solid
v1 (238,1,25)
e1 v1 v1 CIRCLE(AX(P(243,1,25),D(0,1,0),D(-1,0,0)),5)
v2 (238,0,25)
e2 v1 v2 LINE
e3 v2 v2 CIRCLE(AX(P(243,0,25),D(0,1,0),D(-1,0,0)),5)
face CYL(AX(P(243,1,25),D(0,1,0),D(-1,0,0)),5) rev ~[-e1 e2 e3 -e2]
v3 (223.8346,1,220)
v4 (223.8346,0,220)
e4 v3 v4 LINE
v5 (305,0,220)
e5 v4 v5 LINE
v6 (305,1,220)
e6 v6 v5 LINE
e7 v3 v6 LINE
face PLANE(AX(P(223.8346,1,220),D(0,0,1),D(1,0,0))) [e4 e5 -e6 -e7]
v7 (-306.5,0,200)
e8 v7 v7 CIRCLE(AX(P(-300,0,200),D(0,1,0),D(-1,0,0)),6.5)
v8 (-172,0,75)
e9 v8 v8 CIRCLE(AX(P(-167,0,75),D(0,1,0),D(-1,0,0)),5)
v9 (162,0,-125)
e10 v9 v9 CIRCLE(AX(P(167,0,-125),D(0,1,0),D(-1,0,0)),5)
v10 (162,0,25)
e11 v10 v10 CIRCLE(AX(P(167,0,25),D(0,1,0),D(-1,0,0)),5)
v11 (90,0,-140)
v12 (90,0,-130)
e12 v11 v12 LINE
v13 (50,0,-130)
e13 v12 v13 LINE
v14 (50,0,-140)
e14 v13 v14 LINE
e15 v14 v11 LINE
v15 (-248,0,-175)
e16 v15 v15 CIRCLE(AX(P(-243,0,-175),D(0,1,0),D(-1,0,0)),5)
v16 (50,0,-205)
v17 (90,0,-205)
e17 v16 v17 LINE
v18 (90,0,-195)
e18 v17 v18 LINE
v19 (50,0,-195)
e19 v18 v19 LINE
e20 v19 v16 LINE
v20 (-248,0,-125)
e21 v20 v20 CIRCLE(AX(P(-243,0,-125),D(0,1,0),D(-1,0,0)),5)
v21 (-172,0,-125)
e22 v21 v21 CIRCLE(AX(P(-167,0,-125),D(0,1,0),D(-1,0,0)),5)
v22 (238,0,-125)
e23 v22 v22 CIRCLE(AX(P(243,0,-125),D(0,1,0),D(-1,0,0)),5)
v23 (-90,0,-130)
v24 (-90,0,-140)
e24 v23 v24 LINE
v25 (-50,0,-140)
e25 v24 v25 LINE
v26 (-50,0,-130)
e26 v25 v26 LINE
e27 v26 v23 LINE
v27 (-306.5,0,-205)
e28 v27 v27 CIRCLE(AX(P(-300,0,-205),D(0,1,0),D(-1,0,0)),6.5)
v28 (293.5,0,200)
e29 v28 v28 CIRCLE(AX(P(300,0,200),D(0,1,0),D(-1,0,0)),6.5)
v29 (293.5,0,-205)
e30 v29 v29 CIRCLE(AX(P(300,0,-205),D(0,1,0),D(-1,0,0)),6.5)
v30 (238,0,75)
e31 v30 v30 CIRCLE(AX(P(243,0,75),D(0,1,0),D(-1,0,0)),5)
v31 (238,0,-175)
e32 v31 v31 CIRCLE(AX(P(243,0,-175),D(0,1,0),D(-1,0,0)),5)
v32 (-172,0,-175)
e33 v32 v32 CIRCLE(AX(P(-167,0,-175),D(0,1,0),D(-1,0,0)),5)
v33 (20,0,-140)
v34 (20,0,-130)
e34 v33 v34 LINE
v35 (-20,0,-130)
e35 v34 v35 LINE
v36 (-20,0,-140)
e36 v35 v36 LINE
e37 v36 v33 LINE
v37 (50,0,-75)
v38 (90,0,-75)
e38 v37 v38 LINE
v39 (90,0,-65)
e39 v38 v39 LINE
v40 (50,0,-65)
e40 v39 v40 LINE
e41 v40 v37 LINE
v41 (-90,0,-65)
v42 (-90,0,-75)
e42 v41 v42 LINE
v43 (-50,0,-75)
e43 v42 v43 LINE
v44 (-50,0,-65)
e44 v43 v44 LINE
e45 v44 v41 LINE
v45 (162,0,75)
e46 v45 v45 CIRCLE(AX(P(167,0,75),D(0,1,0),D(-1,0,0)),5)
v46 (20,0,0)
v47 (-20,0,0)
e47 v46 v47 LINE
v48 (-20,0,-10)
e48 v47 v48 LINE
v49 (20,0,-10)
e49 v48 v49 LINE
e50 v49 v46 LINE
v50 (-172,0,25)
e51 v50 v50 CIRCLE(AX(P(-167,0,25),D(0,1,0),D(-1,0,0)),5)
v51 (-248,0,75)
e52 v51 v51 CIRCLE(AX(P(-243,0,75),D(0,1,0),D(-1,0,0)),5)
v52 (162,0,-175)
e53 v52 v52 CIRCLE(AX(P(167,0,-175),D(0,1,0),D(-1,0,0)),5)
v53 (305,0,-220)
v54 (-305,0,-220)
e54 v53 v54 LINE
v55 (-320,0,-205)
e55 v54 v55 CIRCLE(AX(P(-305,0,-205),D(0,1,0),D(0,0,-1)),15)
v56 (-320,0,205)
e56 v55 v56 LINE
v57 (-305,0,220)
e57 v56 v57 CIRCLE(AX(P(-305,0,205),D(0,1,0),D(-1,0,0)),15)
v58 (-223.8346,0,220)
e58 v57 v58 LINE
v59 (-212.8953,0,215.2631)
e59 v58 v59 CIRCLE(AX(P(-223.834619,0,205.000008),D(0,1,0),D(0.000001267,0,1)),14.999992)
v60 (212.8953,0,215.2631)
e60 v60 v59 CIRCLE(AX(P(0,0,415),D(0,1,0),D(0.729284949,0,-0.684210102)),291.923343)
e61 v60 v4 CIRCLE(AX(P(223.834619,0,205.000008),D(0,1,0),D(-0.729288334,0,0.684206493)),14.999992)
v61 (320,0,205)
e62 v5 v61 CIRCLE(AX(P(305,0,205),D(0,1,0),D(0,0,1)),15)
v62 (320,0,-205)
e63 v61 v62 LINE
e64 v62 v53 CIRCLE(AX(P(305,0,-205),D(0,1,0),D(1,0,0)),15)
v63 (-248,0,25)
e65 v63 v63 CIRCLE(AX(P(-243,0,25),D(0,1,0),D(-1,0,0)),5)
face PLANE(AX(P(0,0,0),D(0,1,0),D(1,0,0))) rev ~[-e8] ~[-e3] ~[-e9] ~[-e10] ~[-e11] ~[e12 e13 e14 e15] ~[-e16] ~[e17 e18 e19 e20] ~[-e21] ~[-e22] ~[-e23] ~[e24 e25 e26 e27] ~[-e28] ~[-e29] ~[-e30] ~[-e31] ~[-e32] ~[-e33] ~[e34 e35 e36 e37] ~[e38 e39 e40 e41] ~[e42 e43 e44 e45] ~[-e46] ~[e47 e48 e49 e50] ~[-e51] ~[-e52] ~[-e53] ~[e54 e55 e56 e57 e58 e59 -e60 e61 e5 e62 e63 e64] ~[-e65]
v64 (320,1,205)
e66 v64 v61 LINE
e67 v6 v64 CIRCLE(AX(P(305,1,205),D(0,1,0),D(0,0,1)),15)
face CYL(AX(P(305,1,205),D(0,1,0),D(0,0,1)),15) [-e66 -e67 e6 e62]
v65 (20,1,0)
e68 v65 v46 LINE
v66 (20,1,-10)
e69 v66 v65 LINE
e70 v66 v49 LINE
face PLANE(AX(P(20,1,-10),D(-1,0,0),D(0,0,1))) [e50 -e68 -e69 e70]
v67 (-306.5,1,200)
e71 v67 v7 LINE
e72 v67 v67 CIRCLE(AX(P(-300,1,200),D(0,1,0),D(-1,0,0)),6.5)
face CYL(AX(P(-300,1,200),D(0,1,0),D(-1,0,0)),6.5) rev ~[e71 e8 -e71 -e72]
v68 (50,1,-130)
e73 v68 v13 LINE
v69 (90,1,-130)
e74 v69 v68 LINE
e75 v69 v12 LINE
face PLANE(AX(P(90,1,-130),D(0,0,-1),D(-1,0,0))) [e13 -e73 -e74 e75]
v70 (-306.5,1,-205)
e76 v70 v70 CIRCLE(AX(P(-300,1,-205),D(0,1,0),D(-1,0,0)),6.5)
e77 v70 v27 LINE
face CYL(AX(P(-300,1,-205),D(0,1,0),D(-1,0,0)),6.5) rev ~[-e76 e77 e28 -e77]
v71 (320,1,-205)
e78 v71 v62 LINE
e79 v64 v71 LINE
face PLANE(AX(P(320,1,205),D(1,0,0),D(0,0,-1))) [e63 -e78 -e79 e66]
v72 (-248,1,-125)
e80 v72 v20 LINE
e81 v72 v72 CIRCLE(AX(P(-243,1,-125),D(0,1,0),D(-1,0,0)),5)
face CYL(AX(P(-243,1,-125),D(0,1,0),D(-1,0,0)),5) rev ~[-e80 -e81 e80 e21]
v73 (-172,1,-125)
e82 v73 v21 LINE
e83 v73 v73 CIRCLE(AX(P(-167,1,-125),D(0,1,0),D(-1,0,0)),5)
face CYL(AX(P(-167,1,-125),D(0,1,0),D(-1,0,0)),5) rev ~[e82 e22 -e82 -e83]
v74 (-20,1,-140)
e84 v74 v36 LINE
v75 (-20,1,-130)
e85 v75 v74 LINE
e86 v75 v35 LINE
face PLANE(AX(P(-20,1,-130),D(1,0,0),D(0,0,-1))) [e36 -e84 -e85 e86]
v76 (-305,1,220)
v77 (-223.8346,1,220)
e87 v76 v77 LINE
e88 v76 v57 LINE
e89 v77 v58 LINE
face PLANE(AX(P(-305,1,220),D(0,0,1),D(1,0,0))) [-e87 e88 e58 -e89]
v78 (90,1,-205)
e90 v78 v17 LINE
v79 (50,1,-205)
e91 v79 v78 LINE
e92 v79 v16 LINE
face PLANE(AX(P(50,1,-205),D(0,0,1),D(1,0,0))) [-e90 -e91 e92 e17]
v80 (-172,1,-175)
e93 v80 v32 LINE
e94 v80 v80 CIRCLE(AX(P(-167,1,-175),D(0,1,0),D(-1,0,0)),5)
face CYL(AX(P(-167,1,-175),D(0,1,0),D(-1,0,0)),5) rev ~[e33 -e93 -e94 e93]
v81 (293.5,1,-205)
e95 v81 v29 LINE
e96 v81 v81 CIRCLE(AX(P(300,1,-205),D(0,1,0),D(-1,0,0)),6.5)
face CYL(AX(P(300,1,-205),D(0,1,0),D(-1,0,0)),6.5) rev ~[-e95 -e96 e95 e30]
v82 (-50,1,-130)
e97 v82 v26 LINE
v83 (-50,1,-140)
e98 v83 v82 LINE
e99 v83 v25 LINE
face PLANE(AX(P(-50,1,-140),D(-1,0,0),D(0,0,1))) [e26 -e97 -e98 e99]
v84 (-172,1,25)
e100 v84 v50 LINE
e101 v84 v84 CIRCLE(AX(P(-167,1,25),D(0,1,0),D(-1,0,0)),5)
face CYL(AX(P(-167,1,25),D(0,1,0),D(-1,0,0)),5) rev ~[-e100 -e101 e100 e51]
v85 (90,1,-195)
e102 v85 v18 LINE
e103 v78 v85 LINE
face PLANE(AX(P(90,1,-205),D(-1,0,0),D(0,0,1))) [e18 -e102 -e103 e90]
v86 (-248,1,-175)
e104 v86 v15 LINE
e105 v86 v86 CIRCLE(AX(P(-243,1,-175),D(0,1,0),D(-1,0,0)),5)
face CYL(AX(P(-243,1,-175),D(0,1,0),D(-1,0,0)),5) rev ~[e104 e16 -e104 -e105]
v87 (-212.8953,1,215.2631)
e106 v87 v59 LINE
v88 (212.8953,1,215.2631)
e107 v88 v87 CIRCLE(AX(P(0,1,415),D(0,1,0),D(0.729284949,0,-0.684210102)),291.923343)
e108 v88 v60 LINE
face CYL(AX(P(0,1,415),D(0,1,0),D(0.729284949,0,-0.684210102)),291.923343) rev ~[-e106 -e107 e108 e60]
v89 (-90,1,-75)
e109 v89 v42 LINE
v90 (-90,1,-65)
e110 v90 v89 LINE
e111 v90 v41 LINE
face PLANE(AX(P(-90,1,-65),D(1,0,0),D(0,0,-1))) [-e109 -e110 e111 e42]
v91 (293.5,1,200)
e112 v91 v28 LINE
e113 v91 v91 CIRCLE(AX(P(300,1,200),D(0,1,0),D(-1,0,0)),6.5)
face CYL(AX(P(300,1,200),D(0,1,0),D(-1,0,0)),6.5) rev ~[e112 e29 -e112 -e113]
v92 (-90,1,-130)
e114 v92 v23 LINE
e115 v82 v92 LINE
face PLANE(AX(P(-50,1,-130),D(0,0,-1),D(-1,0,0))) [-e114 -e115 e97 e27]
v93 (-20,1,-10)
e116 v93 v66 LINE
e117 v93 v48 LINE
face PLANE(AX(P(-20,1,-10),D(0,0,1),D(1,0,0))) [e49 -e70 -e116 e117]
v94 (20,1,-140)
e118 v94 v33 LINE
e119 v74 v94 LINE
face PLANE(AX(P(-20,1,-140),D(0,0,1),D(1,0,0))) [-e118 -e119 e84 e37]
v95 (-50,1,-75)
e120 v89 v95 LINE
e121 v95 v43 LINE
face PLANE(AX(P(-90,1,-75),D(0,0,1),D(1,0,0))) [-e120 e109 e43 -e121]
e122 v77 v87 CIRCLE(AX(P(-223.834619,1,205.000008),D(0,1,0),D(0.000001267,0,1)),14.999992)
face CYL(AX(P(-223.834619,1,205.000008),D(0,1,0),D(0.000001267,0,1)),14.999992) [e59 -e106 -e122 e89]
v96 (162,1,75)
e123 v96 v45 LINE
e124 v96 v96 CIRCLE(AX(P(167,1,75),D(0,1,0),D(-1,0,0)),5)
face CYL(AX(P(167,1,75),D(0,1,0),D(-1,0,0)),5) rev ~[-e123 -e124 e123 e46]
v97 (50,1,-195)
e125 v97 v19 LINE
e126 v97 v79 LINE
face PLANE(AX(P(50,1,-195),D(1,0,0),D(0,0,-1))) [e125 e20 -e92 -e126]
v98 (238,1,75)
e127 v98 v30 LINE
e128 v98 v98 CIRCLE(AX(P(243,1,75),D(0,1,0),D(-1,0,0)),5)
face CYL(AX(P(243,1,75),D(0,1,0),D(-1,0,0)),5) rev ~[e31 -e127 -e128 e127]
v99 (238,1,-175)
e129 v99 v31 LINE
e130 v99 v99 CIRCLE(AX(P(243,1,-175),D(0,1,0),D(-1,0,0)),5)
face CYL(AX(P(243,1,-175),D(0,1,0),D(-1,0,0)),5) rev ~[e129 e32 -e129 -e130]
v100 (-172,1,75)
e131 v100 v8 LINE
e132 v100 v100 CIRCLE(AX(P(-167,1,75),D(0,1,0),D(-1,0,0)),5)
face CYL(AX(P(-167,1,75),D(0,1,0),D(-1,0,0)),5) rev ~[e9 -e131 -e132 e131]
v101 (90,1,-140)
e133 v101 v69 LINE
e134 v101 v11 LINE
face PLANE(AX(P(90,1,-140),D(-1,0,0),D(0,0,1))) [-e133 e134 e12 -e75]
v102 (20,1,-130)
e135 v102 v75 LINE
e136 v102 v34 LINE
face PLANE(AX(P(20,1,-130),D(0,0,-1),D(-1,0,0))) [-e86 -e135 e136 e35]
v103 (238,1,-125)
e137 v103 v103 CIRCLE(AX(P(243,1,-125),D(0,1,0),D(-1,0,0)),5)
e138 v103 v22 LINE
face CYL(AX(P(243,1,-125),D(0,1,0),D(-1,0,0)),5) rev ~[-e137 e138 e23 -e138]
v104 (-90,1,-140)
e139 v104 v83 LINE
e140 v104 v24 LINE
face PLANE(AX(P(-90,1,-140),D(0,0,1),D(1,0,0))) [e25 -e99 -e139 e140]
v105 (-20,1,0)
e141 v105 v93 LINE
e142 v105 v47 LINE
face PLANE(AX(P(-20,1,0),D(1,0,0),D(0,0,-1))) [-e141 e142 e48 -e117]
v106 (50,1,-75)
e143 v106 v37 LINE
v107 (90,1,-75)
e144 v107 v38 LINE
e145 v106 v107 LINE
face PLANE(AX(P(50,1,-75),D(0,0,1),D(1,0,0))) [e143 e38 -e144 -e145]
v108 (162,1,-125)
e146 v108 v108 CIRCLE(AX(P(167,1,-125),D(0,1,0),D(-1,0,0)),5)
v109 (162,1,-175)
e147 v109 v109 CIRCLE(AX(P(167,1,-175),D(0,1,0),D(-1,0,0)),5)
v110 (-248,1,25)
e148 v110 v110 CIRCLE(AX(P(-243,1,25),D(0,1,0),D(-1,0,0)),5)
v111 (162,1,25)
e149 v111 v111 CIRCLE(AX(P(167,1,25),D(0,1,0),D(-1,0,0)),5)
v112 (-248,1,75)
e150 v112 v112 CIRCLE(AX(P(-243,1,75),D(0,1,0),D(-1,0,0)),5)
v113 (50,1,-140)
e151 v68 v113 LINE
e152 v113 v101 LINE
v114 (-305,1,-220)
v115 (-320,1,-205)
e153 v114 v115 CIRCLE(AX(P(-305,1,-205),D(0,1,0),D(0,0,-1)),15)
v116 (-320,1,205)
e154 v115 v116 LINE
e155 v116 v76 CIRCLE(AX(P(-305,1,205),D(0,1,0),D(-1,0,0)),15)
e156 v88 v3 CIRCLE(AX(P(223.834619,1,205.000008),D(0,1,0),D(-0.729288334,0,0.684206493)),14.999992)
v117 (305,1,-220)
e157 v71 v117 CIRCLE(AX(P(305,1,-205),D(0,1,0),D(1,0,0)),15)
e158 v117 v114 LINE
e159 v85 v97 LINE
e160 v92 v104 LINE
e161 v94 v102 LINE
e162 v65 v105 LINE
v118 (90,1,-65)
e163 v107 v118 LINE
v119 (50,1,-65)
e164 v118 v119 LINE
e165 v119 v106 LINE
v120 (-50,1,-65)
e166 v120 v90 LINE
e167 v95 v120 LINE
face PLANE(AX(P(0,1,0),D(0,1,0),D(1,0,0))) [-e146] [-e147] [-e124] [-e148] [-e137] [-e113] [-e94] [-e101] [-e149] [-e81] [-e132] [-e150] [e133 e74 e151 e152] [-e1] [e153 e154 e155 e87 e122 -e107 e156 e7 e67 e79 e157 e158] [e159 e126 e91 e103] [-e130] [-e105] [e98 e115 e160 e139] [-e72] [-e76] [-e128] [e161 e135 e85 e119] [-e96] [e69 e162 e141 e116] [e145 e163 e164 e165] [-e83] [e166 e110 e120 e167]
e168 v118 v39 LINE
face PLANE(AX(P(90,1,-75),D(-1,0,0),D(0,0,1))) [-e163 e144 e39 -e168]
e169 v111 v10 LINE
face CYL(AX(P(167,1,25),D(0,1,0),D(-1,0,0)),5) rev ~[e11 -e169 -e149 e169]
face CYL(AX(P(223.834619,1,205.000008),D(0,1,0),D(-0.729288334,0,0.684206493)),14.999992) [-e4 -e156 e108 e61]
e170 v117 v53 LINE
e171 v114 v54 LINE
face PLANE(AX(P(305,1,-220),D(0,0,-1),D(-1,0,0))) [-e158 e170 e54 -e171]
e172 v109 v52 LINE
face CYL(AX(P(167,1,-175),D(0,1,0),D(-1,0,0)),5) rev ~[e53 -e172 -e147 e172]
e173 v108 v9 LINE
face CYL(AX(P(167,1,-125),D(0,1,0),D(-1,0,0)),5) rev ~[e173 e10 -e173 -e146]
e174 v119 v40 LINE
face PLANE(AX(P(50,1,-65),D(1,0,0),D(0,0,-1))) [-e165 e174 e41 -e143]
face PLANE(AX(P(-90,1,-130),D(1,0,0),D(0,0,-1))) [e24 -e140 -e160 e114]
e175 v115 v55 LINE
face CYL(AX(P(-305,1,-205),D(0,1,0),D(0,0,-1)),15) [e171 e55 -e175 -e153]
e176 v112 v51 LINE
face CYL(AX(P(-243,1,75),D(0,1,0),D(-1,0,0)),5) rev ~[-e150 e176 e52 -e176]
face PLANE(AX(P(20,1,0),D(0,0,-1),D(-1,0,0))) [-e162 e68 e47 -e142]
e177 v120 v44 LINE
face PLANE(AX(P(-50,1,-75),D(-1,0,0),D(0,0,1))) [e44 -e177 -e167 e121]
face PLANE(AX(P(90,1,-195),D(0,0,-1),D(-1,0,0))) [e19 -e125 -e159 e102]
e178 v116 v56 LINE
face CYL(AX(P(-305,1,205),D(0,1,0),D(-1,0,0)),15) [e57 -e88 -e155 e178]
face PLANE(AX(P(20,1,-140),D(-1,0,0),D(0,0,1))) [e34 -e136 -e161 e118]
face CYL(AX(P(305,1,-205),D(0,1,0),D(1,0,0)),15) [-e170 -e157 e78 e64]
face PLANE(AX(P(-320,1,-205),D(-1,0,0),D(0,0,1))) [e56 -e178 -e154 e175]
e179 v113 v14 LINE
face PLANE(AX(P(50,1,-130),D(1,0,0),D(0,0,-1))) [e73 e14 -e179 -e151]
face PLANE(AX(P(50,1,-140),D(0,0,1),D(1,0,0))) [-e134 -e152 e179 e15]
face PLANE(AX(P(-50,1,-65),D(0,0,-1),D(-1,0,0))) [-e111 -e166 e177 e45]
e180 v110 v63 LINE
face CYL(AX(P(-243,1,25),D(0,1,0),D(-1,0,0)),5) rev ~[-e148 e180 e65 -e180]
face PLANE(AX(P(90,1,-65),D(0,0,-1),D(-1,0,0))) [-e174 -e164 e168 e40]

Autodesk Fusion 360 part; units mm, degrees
sketch "Esquisse1" plane through (0, 0, 0) normal (0, 1, 0) x (1, 0, 0)
  arc A0 (209.2489, -218.6842) -> (223.8346, -225) centre (223.8346, -205) ccw
  line L0 (-305, 225) -> (305, 225)
  line L1 (215, -225) -> (325, -225)
  line L2 (305, -225) -> (223.8346, -225)
  line L3 (-305, -225) -> (-223.8346, -225)
  line L4 (-325, 225) -> (325, -225) construction
  line L5 (325, 205) -> (325, -205)
  line L6 (-325, -205) -> (-325, 205)
  arc A1 (305, -225) -> (325, -205) centre (305, -205) ccw
  line L7 (-367.4671, -125) -> (350, -125) construction
  arc A2 (-305, 225) -> (-325, 205) centre (-305, 205) ccw
  line L8 (325, 225) -> (-325, -225) construction
  arc A3 (209.2489, -218.6842) -> (-209.2489, -218.6842) centre (0, -415) ccw
  arc A4 (-325, -205) -> (-305, -225) centre (-305, -205) ccw
  arc A5 (-223.8346, -225) -> (-209.2489, -218.6842) centre (-223.8346, -205) ccw
  arc A6 (325, 205) -> (305, 225) centre (305, 205) ccw
  point P0 (-215, -225)
  dimension "d12" = 650
  dimension "d13" = 450
  dimension "d14" = 110
  dimension "d15" = 110
  dimension "d16" = 100
  dimension "d20" = 190
  dimension "d21" = 20
extrude "Extrusion1" add sketch "Esquisse1" along normal blind 1
sketch "Esquisse2" plane through (0, 1, 0) normal (0, 1, 0) x (-1, 0, 0)
  arc A0 (-305, 225) -> (-325, 205) centre (-305, 205) ccw
  line L0 (-325, 205) -> (-325, -205)
  arc A1 (-325, -205) -> (-305, -225) centre (-305, -205) ccw
  line L1 (-305, -225) -> (305, -225)
  arc A2 (305, -225) -> (325, -205) centre (305, -205) ccw
  line L2 (325, -205) -> (325, 205)
  arc A3 (325, 205) -> (305, 225) centre (305, 205) ccw
  line L3 (305, 225) -> (223.8346, 225)
  arc A4 (223.8346, 225) -> (209.2489, 218.6842) centre (223.8346, 205) ccw
  arc A5 (-209.2489, 218.6842) -> (209.2489, 218.6842) centre (0, 415) ccw
  arc A6 (-209.2489, 218.6842) -> (-223.8346, 225) centre (-223.8346, 205) ccw
  line L4 (-223.8346, 225) -> (-305, 225)
  line L5 (-90, -65) -> (-50, -65)
  line L6 (-50, -140) -> (-90, -140)
  line L7 (90, -140) -> (50, -140)
  line L8 (-90, -205) -> (-90, -195)
  line L9 (-50, -75) -> (-90, -75)
  line L10 (-50, -130) -> (-50, -140)
  line L11 (20, -10) -> (-20, -10)
  line L12 (-50, -205) -> (-90, -205)
  line L13 (50, -140) -> (50, -130)
  line L14 (-20, -130) -> (20, -130)
  line L15 (-90, -130) -> (-50, -130)
  line L16 (-50, -195) -> (-50, -205)
  line L17 (50, -65) -> (90, -65)
  line L18 (20, -140) -> (-20, -140)
  line L19 (-90, -75) -> (-90, -65)
  line L20 (-20, -140) -> (-20, -130)
  line L21 (-90, -140) -> (-90, -130)
  line L22 (90, -130) -> (90, -140)
  line L23 (-90, -195) -> (-50, -195)
  line L24 (-20, -10) -> (-20, 0)
  line L25 (90, -65) -> (90, -75)
  line L26 (90, -75) -> (50, -75)
  line L27 (20, 0) -> (20, -10)
  line L28 (50, -75) -> (50, -65)
  line L29 (-50, -65) -> (-50, -75)
  line L30 (20, -130) -> (20, -140)
  line L31 (-20, 0) -> (20, 0)
  line L32 (50, -130) -> (90, -130)
  dimension "d17" = 70
  dimension "d18" = -130
  dimension "d23" = 0
  dimension "d24" = -65
extrude "Extrusion2" cut sketch "Esquisse2" against normal blind 50 contours L5 L9 L19 L29 | L6 L10 L15 L21 | L7 L13 L22 L32 | L8 L12 L16 L23 | L11 L24 L27 L31 | L14 L18 L20 L30 | L17 L25 L26 L28
sketch "Esquisse4" plane through (0, 1, 0) normal (0, 1, 0) x (-1, 0, 0)
  line L0 (90, -65) -> (90, -75)
  line L1 (90, -75) -> (50, -75)
  line L2 (50, -75) -> (50, -65)
  line L3 (50, -65) -> (90, -65)
  line L4 (-50, -205) -> (-90, -205)
  line L5 (-90, -205) -> (-90, -195)
  line L6 (-90, -195) -> (-50, -195)
  line L7 (-50, -195) -> (-50, -205)
  line L8 (90, -140) -> (50, -140)
  line L9 (50, -140) -> (50, -130)
  line L10 (50, -130) -> (90, -130)
  line L11 (90, -130) -> (90, -140)
  line L12 (20, -10) -> (-20, -10)
  line L13 (-20, -10) -> (-20, 0)
  line L14 (-20, 0) -> (20, 0)
  line L15 (20, 0) -> (20, -10)
  line L16 (-50, -130) -> (-50, -140)
  line L17 (-50, -140) -> (-90, -140)
  line L18 (-90, -140) -> (-90, -130)
  line L19 (-90, -130) -> (-50, -130)
  line L20 (-20, -140) -> (-20, -130)
  line L21 (-20, -130) -> (20, -130)
  line L22 (20, -130) -> (20, -140)
  line L23 (20, -140) -> (-20, -140)
  line L24 (-90, -75) -> (-90, -65)
  line L25 (-90, -65) -> (-50, -65)
  line L26 (-50, -65) -> (-50, -75)
  line L27 (-50, -75) -> (-90, -75)
  arc A0 (-305, 225) -> (-325, 205) centre (-305, 205) ccw
  line L28 (-325, 205) -> (-325, -205)
  arc A1 (-325, -205) -> (-305, -225) centre (-305, -205) ccw
  line L29 (-305, -225) -> (305, -225)
  arc A2 (305, -225) -> (325, -205) centre (305, -205) ccw
  line L30 (325, -205) -> (325, 205)
  arc A3 (325, 205) -> (305, 225) centre (305, 205) ccw
  line L31 (305, 225) -> (223.8346, 225)
  arc A4 (223.8346, 225) -> (209.2489, 218.6842) centre (223.8346, 205) ccw
  arc A5 (-209.2489, 218.6842) -> (209.2489, 218.6842) centre (0, 415) ccw
  arc A6 (-209.2489, 218.6842) -> (-223.8346, 225) centre (-223.8346, 205) ccw
  line L32 (-223.8346, 225) -> (-305, 225)
  circle A7 centre (300, -205) radius 6.5
  circle A8 centre (300, 200) radius 6.5
  circle A9 centre (-300, 200) radius 6.5
  circle A10 centre (-300, -205) radius 6.5
  dimension "d43" = 13
  dimension "d46" = 13
  dimension "d49" = 13
  dimension "d52" = 13
extrude "Extrusion3" cut sketch "Esquisse4" against normal blind 50 contours A7 | A8 | A9 | A10
sketch "Esquisse5" plane through (0, 1, 0) normal (0, 1, 0) x (-1, 0, 0)
  circle A0 centre (300, 200) radius 6.5
  circle A1 centre (-300, -205) radius 6.5
  circle A2 centre (300, -205) radius 6.5
  circle A3 centre (-300, 200) radius 6.5
  line L0 (90, -65) -> (90, -75)
  line L1 (90, -75) -> (50, -75)
  line L2 (50, -75) -> (50, -65)
  line L3 (50, -65) -> (90, -65)
  line L4 (-50, -205) -> (-90, -205)
  line L5 (-90, -205) -> (-90, -195)
  line L6 (-90, -195) -> (-50, -195)
  line L7 (-50, -195) -> (-50, -205)
  line L8 (90, -140) -> (50, -140)
  line L9 (50, -140) -> (50, -130)
  line L10 (50, -130) -> (90, -130)
  line L11 (90, -130) -> (90, -140)
  line L12 (20, -10) -> (-20, -10)
  line L13 (-20, -10) -> (-20, 0)
  line L14 (-20, 0) -> (20, 0)
  line L15 (20, 0) -> (20, -10)
  line L16 (-50, -130) -> (-50, -140)
  line L17 (-50, -140) -> (-90, -140)
  line L18 (-90, -140) -> (-90, -130)
  line L19 (-90, -130) -> (-50, -130)
  line L20 (-20, -140) -> (-20, -130)
  line L21 (-20, -130) -> (20, -130)
  line L22 (20, -130) -> (20, -140)
  line L23 (20, -140) -> (-20, -140)
  line L24 (-90, -75) -> (-90, -65)
  line L25 (-90, -65) -> (-50, -65)
  line L26 (-50, -65) -> (-50, -75)
  line L27 (-50, -75) -> (-90, -75)
  arc A4 (-305, 225) -> (-325, 205) centre (-305, 205) ccw
  line L28 (-325, 205) -> (-325, -205)
  arc A5 (-325, -205) -> (-305, -225) centre (-305, -205) ccw
  line L29 (-305, -225) -> (305, -225)
  arc A6 (305, -225) -> (325, -205) centre (305, -205) ccw
  line L30 (325, -205) -> (325, 205)
  arc A7 (325, 205) -> (305, 225) centre (305, 205) ccw
  line L31 (305, 225) -> (223.8346, 225)
  arc A8 (223.8346, 225) -> (209.2489, 218.6842) centre (223.8346, 205) ccw
  arc A9 (-209.2489, 218.6842) -> (209.2489, 218.6842) centre (0, 415) ccw
  arc A10 (-209.2489, 218.6842) -> (-223.8346, 225) centre (-223.8346, 205) ccw
  line L32 (-223.8346, 225) -> (-305, 225)
  circle A11 centre (167, 75) radius 5
  circle A12 centre (243, 25) radius 5
  circle A13 centre (167, -175) radius 5
  circle A14 centre (243, -125) radius 5
  circle A15 centre (167, 25) radius 5
  circle A16 centre (243, -175) radius 5
  circle A17 centre (167, -125) radius 5
  circle A18 centre (243, 75) radius 5
  circle A19 centre (-243, 75) radius 5
  circle A20 centre (-243, -175) radius 5
  circle A21 centre (-243, 25) radius 5
  circle A22 centre (-167, 25) radius 5
  circle A23 centre (-167, -175) radius 5
  circle A24 centre (-167, -125) radius 5
  circle A25 centre (-243, -125) radius 5
  circle A26 centre (-167, 75) radius 5
  dimension "d60" = 10
extrude "Extrusion4" cut sketch "Esquisse5" against normal blind 75 contours A11 | A12 | A13 | A14 | A15 | A16 | A17 | A18 | A19 | A20 | A21 | A22 | A23 | A24 | A25 | A26
sketch "Esquisse6" plane through (0, 1, 0) normal (0, 1, 0) x (-1, 0, 0)
  circle A0 centre (243, 25) radius 5
  circle A1 centre (-243, 25) radius 5
  circle A2 centre (-243, -175) radius 5
  circle A3 centre (243, -125) radius 5
  circle A4 centre (167, -175) radius 5
  circle A5 centre (-243, -125) radius 5
  circle A6 centre (-243, 75) radius 5
  circle A7 centre (243, 75) radius 5
  circle A8 centre (167, 25) radius 5
  circle A9 centre (-167, 25) radius 5
  circle A10 centre (-167, -175) radius 5
  circle A11 centre (243, -175) radius 5
  circle A12 centre (167, -125) radius 5
  circle A13 centre (-167, -125) radius 5
  circle A14 centre (-167, 75) radius 5
  circle A15 centre (167, 75) radius 5
  circle A16 centre (300, 200) radius 6.5
  circle A17 centre (-300, -205) radius 6.5
  circle A18 centre (300, -205) radius 6.5
  circle A19 centre (-300, 200) radius 6.5
  line L0 (90, -65) -> (90, -75)
  line L1 (90, -75) -> (50, -75)
  line L2 (50, -75) -> (50, -65)
  line L3 (50, -65) -> (90, -65)
  line L4 (-50, -205) -> (-90, -205)
  line L5 (-90, -205) -> (-90, -195)
  line L6 (-90, -195) -> (-50, -195)
  line L7 (-50, -195) -> (-50, -205)
  line L8 (90, -140) -> (50, -140)
  line L9 (50, -140) -> (50, -130)
  line L10 (50, -130) -> (90, -130)
  line L11 (90, -130) -> (90, -140)
  line L12 (20, -10) -> (-20, -10)
  line L13 (-20, -10) -> (-20, 0)
  line L14 (-20, 0) -> (20, 0)
  line L15 (20, 0) -> (20, -10)
  line L16 (-50, -130) -> (-50, -140)
  line L17 (-50, -140) -> (-90, -140)
  line L18 (-90, -140) -> (-90, -130)
  line L19 (-90, -130) -> (-50, -130)
  line L20 (-20, -140) -> (-20, -130)
  line L21 (-20, -130) -> (20, -130)
  line L22 (20, -130) -> (20, -140)
  line L23 (20, -140) -> (-20, -140)
  line L24 (-90, -75) -> (-90, -65)
  line L25 (-90, -65) -> (-50, -65)
  line L26 (-50, -65) -> (-50, -75)
  line L27 (-50, -75) -> (-90, -75)
  arc A20 (-305, 225) -> (-325, 205) centre (-305, 205) ccw
  line L28 (-325, 205) -> (-325, -205)
  arc A21 (-325, -205) -> (-305, -225) centre (-305, -205) ccw
  line L29 (-305, -225) -> (305, -225)
  arc A22 (305, -225) -> (325, -205) centre (305, -205) ccw
  line L30 (325, -205) -> (325, 205)
  arc A23 (325, 205) -> (305, 225) centre (305, 205) ccw
  line L31 (305, 225) -> (223.8346, 225)
  arc A24 (223.8346, 225) -> (209.2489, 218.6842) centre (223.8346, 205) ccw
  arc A25 (-209.2489, 218.6842) -> (209.2489, 218.6842) centre (0, 415) ccw
  arc A26 (-209.2489, 218.6842) -> (-223.8346, 225) centre (-223.8346, 205) ccw
  line L32 (-223.8346, 225) -> (-305, 225)
  line L33 (305, 220) -> (223.8346, 220)
  arc A27 (223.8346, 220) -> (212.8953, 215.2631) centre (223.8346, 205) ccw
  arc A28 (-212.8953, 215.2631) -> (212.8953, 215.2631) centre (0, 415) ccw
  arc A29 (-212.8953, 215.2631) -> (-223.8346, 220) centre (-223.8346, 205) ccw
  line L34 (-223.8346, 220) -> (-305, 220)
  arc A30 (-305, 220) -> (-320, 205) centre (-305, 205) ccw
  line L35 (-320, 205) -> (-320, -205)
  arc A31 (-320, -205) -> (-305, -220) centre (-305, -205) ccw
  line L36 (-305, -220) -> (305, -220)
  arc A32 (305, -220) -> (320, -205) centre (305, -205) ccw
  line L37 (320, -205) -> (320, 205)
  arc A33 (320, 205) -> (305, 220) centre (305, 205) ccw
  dimension "d36" = -5
extrude "Extrusion5" cut sketch "Esquisse6" against normal blind 50 contours A20 L28 A21 L29 A22 L30 A23 L31 A24 A25 A26 L32
sketch "Esquisse7" plane through (0, 1, 0) normal (0, 1, 0) x (-1, 0, 0)
  arc A0 (-212.8953, 215.2631) -> (212.8953, 215.2631) centre (0, 415) ccw
  arc A1 (-212.8953, 215.2631) -> (-223.8346, 220) centre (-223.8346, 205) ccw
  line L0 (-223.8346, 220) -> (-305, 220)
  arc A2 (-305, 220) -> (-320, 205) centre (-305, 205) ccw
  line L1 (-320, 205) -> (-320, -205)
  arc A3 (-320, -205) -> (-305, -220) centre (-305, -205) ccw
  line L2 (-305, -220) -> (305, -220)
  arc A4 (305, -220) -> (320, -205) centre (305, -205) ccw
  line L3 (320, -205) -> (320, 205)
  arc A5 (320, 205) -> (305, 220) centre (305, 205) ccw
  line L4 (305, 220) -> (223.8346, 220)
  arc A6 (223.8346, 220) -> (212.8953, 215.2631) centre (223.8346, 205) ccw
  circle A7 centre (243, 25) radius 5
  circle A8 centre (-243, 25) radius 5
  circle A9 centre (-243, -175) radius 5
  circle A10 centre (243, -125) radius 5
  circle A11 centre (167, -175) radius 5
  circle A12 centre (-243, -125) radius 5
  circle A13 centre (-243, 75) radius 5
  circle A14 centre (243, 75) radius 5
  circle A15 centre (167, 25) radius 5
  circle A16 centre (-167, 25) radius 5
  circle A17 centre (-167, -175) radius 5
  circle A18 centre (243, -175) radius 5
  circle A19 centre (167, -125) radius 5
  circle A20 centre (-167, -125) radius 5
  circle A21 centre (-167, 75) radius 5
  circle A22 centre (167, 75) radius 5
  circle A23 centre (300, 200) radius 6.5
  circle A24 centre (-300, -205) radius 6.5
  circle A25 centre (300, -205) radius 6.5
  circle A26 centre (-300, 200) radius 6.5
  line L5 (90, -65) -> (90, -75)
  line L6 (90, -75) -> (50, -75)
  line L7 (50, -75) -> (50, -65)
  line L8 (50, -65) -> (90, -65)
  line L9 (-50, -205) -> (-90, -205)
  line L10 (-90, -205) -> (-90, -195)
  line L11 (-90, -195) -> (-50, -195)
  line L12 (-50, -195) -> (-50, -205)
  line L13 (90, -140) -> (50, -140)
  line L14 (50, -140) -> (50, -130)
  line L15 (50, -130) -> (90, -130)
  line L16 (90, -130) -> (90, -140)
  line L17 (20, -10) -> (-20, -10)
  line L18 (-20, -10) -> (-20, 0)
  line L19 (-20, 0) -> (20, 0)
  line L20 (20, 0) -> (20, -10)
  line L21 (-50, -130) -> (-50, -140)
  line L22 (-50, -140) -> (-90, -140)
  line L23 (-90, -140) -> (-90, -130)
  line L24 (-90, -130) -> (-50, -130)
  line L25 (-20, -140) -> (-20, -130)
  line L26 (-20, -130) -> (20, -130)
  line L27 (20, -130) -> (20, -140)
  line L28 (20, -140) -> (-20, -140)
  line L29 (-90, -75) -> (-90, -65)
  line L30 (-90, -65) -> (-50, -65)
  line L31 (-50, -65) -> (-50, -75)
  line L32 (-50, -75) -> (-90, -75)
  line L33 (-50, -195) -> (-90, -195)
  line L34 (-90, -195) -> (-90, -155)
  line L35 (-90, -155) -> (-50, -155)
  line L36 (-50, -155) -> (-50, -195)
  line L37 (90, -130) -> (50, -130)
  line L38 (50, -130) -> (50, -90)
  line L39 (50, -90) -> (90, -90)
  line L40 (90, -90) -> (90, -130)
  line L41 (20, -130) -> (-20, -130)
  line L42 (-20, -130) -> (-20, -90)
  line L43 (-20, -90) -> (20, -90)
  line L44 (20, -90) -> (20, -130)
  line L45 (-50, -130) -> (-90, -130)
  line L46 (-90, -130) -> (-90, -90)
  line L47 (-90, -90) -> (-50, -90)
  line L48 (-50, -90) -> (-50, -130)
  line L49 (20, 0) -> (-20, 0)
  line L50 (-20, 0) -> (-20, 40)
  line L51 (-20, 40) -> (20, 40)
  line L52 (20, 40) -> (20, 0)
  line L53 (90, -65) -> (50, -65)
  line L54 (50, -65) -> (50, -25)
  line L55 (50, -25) -> (90, -25)
  line L56 (90, -25) -> (90, -65)
  line L57 (-50, -65) -> (-90, -65)
  line L58 (-90, -65) -> (-90, -25)
  line L59 (-90, -25) -> (-50, -25)
  line L60 (-50, -25) -> (-50, -65)
  line L61 (315, -190) -> (95, -190)
  line L62 (95, -190) -> (95, 120)
  line L63 (95, 120) -> (315, 120)
  line L64 (315, 120) -> (315, -190)
  line L65 (0, -325) -> (0, 200)
  line L66 (-315, 120) -> (-315, -190)
  line L67 (-315, -190) -> (-95, -190)
  line L68 (-95, -190) -> (-95, 120)
  line L69 (-95, 120) -> (-315, 120)
  dimension "d39" = 40
  dimension "d40" = 40
  dimension "d41" = 220
  dimension "d42" = 310
  dimension "d44" = 5
  dimension "d45" = 30
sketch "Esquisse8" plane through (0, 1, 0) normal (0, 1, 0) x (-1, 0, 0)
  arc A0 (-212.8953, 215.2631) -> (212.8953, 215.2631) centre (0, 415) ccw
  arc A1 (-212.8953, 215.2631) -> (-223.8346, 220) centre (-223.8346, 205) ccw
  line L0 (-223.8346, 220) -> (-305, 220)
  arc A2 (-305, 220) -> (-320, 205) centre (-305, 205) ccw
  line L1 (-320, 205) -> (-320, -205)
  arc A3 (-320, -205) -> (-305, -220) centre (-305, -205) ccw
  line L2 (-305, -220) -> (305, -220)
  arc A4 (305, -220) -> (320, -205) centre (305, -205) ccw
  line L3 (320, -205) -> (320, 205)
  arc A5 (320, 205) -> (305, 220) centre (305, 205) ccw
  line L4 (305, 220) -> (223.8346, 220)
  arc A6 (223.8346, 220) -> (212.8953, 215.2631) centre (223.8346, 205) ccw
  circle A7 centre (243, 25) radius 5
  circle A8 centre (-243, 25) radius 5
  circle A9 centre (-243, -175) radius 5
  circle A10 centre (243, -125) radius 5
  circle A11 centre (167, -175) radius 5
  circle A12 centre (-243, -125) radius 5
  circle A13 centre (-243, 75) radius 5
  circle A14 centre (243, 75) radius 5
  circle A15 centre (167, 25) radius 5
  circle A16 centre (-167, 25) radius 5
  circle A17 centre (-167, -175) radius 5
  circle A18 centre (243, -175) radius 5
  circle A19 centre (167, -125) radius 5
  circle A20 centre (-167, -125) radius 5
  circle A21 centre (-167, 75) radius 5
  circle A22 centre (167, 75) radius 5
  circle A23 centre (300, 200) radius 6.5
  circle A24 centre (-300, -205) radius 6.5
  circle A25 centre (300, -205) radius 6.5
  circle A26 centre (-300, 200) radius 6.5
  line L5 (90, -65) -> (90, -75)
  line L6 (90, -75) -> (50, -75)
  line L7 (50, -75) -> (50, -65)
  line L8 (50, -65) -> (90, -65)
  line L9 (-50, -205) -> (-90, -205)
  line L10 (-90, -205) -> (-90, -195)
  line L11 (-90, -195) -> (-50, -195)
  line L12 (-50, -195) -> (-50, -205)
  line L13 (90, -140) -> (50, -140)
  line L14 (50, -140) -> (50, -130)
  line L15 (50, -130) -> (90, -130)
  line L16 (90, -130) -> (90, -140)
  line L17 (20, -10) -> (-20, -10)
  line L18 (-20, -10) -> (-20, 0)
  line L19 (-20, 0) -> (20, 0)
  line L20 (20, 0) -> (20, -10)
  line L21 (-50, -130) -> (-50, -140)
  line L22 (-50, -140) -> (-90, -140)
  line L23 (-90, -140) -> (-90, -130)
  line L24 (-90, -130) -> (-50, -130)
  line L25 (-20, -140) -> (-20, -130)
  line L26 (-20, -130) -> (20, -130)
  line L27 (20, -130) -> (20, -140)
  line L28 (20, -140) -> (-20, -140)
  line L29 (-90, -75) -> (-90, -65)
  line L30 (-90, -65) -> (-50, -65)
  line L31 (-50, -65) -> (-50, -75)
  line L32 (-50, -75) -> (-90, -75)
sketch "Esquisse9" plane through (0, 0, 0) normal (0, -1, 0) x (1, 0, 0)
  arc A0 (-212.8953, 215.2631) -> (212.8953, 215.2631) centre (0, 415) ccw
  arc A1 (-212.8953, 215.2631) -> (-223.8346, 220) centre (-223.8346, 205) ccw
  line L0 (-223.8346, 220) -> (-305, 220)
  arc A2 (-305, 220) -> (-320, 205) centre (-305, 205) ccw
  line L1 (-320, 205) -> (-320, -205)
  arc A3 (-320, -205) -> (-305, -220) centre (-305, -205) ccw
  line L2 (-305, -220) -> (305, -220)
  arc A4 (305, -220) -> (320, -205) centre (305, -205) ccw
  line L3 (320, -205) -> (320, 205)
  arc A5 (320, 205) -> (305, 220) centre (305, 205) ccw
  line L4 (305, 220) -> (223.8346, 220)
  arc A6 (223.8346, 220) -> (212.8953, 215.2631) centre (223.8346, 205) ccw
  circle A7 centre (-243, 25) radius 5
  circle A8 centre (243, 25) radius 5
  circle A9 centre (243, -175) radius 5
  circle A10 centre (-243, -125) radius 5
  circle A11 centre (-167, -175) radius 5
  circle A12 centre (243, -125) radius 5
  circle A13 centre (243, 75) radius 5
  circle A14 centre (-243, 75) radius 5
  circle A15 centre (-167, 25) radius 5
  circle A16 centre (167, 25) radius 5
  circle A17 centre (167, -175) radius 5
  circle A18 centre (-243, -175) radius 5
  circle A19 centre (-167, -125) radius 5
  circle A20 centre (167, -125) radius 5
  circle A21 centre (167, 75) radius 5
  circle A22 centre (-167, 75) radius 5
  circle A23 centre (-300, 200) radius 6.5
  circle A24 centre (300, -205) radius 6.5
  circle A25 centre (-300, -205) radius 6.5
  circle A26 centre (300, 200) radius 6.5
  line L5 (-90, -75) -> (-90, -65)
  line L6 (-90, -65) -> (-50, -65)
  line L7 (-50, -65) -> (-50, -75)
  line L8 (-50, -75) -> (-90, -75)
  line L9 (90, -205) -> (50, -205)
  line L10 (50, -205) -> (50, -195)
  line L11 (50, -195) -> (90, -195)
  line L12 (90, -195) -> (90, -205)
  line L13 (-50, -140) -> (-90, -140)
  line L14 (-90, -140) -> (-90, -130)
  line L15 (-90, -130) -> (-50, -130)
  line L16 (-50, -130) -> (-50, -140)
  line L17 (20, -10) -> (-20, -10)
  line L18 (-20, -10) -> (-20, 0)
  line L19 (-20, 0) -> (20, 0)
  line L20 (20, 0) -> (20, -10)
  line L21 (50, -140) -> (50, -130)
  line L22 (50, -130) -> (90, -130)
  line L23 (90, -130) -> (90, -140)
  line L24 (90, -140) -> (50, -140)
  line L25 (20, -130) -> (20, -140)
  line L26 (20, -140) -> (-20, -140)
  line L27 (-20, -140) -> (-20, -130)
  line L28 (-20, -130) -> (20, -130)
  line L29 (90, -65) -> (90, -75)
  line L30 (90, -75) -> (50, -75)
  line L31 (50, -75) -> (50, -65)
  line L32 (50, -65) -> (90, -65)
  line L33 (-20, 0) -> (20, 0)
  line L34 (20, 0) -> (20, 40)
  line L35 (20, 40) -> (-20, 40)
  line L36 (-20, 40) -> (-20, 0)
  line L37 (-90, -65) -> (-50, -65)
  line L38 (-50, -65) -> (-50, -25)
  line L39 (-50, -25) -> (-90, -25)
  line L40 (-90, -25) -> (-90, -65)
  line L41 (-90, -130) -> (-50, -130)
  line L42 (-50, -130) -> (-50, -90)
  line L43 (-50, -90) -> (-90, -90)
  line L44 (-90, -90) -> (-90, -130)
  line L45 (-20, -130) -> (20, -130)
  line L46 (20, -130) -> (20, -90)
  line L47 (20, -90) -> (-20, -90)
  line L48 (-20, -90) -> (-20, -130)
  line L49 (50, -130) -> (90, -130)
  line L50 (90, -130) -> (90, -90)
  line L51 (90, -90) -> (50, -90)
  line L52 (50, -90) -> (50, -130)
  line L53 (50, -65) -> (90, -65)
  line L54 (90, -65) -> (90, -25)
  line L55 (90, -25) -> (50, -25)
  line L56 (50, -25) -> (50, -65)
  line L57 (50, -195) -> (90, -195)
  line L58 (90, -195) -> (90, -155)
  line L59 (90, -155) -> (50, -155)
  line L60 (50, -155) -> (50, -195)
  dimension "d47" = 40
  dimension "d48" = 40
  dimension "d50" = 40
  dimension "d51" = 40
  dimension "d53" = 40
  dimension "d54" = 40
  dimension "d55" = 40
